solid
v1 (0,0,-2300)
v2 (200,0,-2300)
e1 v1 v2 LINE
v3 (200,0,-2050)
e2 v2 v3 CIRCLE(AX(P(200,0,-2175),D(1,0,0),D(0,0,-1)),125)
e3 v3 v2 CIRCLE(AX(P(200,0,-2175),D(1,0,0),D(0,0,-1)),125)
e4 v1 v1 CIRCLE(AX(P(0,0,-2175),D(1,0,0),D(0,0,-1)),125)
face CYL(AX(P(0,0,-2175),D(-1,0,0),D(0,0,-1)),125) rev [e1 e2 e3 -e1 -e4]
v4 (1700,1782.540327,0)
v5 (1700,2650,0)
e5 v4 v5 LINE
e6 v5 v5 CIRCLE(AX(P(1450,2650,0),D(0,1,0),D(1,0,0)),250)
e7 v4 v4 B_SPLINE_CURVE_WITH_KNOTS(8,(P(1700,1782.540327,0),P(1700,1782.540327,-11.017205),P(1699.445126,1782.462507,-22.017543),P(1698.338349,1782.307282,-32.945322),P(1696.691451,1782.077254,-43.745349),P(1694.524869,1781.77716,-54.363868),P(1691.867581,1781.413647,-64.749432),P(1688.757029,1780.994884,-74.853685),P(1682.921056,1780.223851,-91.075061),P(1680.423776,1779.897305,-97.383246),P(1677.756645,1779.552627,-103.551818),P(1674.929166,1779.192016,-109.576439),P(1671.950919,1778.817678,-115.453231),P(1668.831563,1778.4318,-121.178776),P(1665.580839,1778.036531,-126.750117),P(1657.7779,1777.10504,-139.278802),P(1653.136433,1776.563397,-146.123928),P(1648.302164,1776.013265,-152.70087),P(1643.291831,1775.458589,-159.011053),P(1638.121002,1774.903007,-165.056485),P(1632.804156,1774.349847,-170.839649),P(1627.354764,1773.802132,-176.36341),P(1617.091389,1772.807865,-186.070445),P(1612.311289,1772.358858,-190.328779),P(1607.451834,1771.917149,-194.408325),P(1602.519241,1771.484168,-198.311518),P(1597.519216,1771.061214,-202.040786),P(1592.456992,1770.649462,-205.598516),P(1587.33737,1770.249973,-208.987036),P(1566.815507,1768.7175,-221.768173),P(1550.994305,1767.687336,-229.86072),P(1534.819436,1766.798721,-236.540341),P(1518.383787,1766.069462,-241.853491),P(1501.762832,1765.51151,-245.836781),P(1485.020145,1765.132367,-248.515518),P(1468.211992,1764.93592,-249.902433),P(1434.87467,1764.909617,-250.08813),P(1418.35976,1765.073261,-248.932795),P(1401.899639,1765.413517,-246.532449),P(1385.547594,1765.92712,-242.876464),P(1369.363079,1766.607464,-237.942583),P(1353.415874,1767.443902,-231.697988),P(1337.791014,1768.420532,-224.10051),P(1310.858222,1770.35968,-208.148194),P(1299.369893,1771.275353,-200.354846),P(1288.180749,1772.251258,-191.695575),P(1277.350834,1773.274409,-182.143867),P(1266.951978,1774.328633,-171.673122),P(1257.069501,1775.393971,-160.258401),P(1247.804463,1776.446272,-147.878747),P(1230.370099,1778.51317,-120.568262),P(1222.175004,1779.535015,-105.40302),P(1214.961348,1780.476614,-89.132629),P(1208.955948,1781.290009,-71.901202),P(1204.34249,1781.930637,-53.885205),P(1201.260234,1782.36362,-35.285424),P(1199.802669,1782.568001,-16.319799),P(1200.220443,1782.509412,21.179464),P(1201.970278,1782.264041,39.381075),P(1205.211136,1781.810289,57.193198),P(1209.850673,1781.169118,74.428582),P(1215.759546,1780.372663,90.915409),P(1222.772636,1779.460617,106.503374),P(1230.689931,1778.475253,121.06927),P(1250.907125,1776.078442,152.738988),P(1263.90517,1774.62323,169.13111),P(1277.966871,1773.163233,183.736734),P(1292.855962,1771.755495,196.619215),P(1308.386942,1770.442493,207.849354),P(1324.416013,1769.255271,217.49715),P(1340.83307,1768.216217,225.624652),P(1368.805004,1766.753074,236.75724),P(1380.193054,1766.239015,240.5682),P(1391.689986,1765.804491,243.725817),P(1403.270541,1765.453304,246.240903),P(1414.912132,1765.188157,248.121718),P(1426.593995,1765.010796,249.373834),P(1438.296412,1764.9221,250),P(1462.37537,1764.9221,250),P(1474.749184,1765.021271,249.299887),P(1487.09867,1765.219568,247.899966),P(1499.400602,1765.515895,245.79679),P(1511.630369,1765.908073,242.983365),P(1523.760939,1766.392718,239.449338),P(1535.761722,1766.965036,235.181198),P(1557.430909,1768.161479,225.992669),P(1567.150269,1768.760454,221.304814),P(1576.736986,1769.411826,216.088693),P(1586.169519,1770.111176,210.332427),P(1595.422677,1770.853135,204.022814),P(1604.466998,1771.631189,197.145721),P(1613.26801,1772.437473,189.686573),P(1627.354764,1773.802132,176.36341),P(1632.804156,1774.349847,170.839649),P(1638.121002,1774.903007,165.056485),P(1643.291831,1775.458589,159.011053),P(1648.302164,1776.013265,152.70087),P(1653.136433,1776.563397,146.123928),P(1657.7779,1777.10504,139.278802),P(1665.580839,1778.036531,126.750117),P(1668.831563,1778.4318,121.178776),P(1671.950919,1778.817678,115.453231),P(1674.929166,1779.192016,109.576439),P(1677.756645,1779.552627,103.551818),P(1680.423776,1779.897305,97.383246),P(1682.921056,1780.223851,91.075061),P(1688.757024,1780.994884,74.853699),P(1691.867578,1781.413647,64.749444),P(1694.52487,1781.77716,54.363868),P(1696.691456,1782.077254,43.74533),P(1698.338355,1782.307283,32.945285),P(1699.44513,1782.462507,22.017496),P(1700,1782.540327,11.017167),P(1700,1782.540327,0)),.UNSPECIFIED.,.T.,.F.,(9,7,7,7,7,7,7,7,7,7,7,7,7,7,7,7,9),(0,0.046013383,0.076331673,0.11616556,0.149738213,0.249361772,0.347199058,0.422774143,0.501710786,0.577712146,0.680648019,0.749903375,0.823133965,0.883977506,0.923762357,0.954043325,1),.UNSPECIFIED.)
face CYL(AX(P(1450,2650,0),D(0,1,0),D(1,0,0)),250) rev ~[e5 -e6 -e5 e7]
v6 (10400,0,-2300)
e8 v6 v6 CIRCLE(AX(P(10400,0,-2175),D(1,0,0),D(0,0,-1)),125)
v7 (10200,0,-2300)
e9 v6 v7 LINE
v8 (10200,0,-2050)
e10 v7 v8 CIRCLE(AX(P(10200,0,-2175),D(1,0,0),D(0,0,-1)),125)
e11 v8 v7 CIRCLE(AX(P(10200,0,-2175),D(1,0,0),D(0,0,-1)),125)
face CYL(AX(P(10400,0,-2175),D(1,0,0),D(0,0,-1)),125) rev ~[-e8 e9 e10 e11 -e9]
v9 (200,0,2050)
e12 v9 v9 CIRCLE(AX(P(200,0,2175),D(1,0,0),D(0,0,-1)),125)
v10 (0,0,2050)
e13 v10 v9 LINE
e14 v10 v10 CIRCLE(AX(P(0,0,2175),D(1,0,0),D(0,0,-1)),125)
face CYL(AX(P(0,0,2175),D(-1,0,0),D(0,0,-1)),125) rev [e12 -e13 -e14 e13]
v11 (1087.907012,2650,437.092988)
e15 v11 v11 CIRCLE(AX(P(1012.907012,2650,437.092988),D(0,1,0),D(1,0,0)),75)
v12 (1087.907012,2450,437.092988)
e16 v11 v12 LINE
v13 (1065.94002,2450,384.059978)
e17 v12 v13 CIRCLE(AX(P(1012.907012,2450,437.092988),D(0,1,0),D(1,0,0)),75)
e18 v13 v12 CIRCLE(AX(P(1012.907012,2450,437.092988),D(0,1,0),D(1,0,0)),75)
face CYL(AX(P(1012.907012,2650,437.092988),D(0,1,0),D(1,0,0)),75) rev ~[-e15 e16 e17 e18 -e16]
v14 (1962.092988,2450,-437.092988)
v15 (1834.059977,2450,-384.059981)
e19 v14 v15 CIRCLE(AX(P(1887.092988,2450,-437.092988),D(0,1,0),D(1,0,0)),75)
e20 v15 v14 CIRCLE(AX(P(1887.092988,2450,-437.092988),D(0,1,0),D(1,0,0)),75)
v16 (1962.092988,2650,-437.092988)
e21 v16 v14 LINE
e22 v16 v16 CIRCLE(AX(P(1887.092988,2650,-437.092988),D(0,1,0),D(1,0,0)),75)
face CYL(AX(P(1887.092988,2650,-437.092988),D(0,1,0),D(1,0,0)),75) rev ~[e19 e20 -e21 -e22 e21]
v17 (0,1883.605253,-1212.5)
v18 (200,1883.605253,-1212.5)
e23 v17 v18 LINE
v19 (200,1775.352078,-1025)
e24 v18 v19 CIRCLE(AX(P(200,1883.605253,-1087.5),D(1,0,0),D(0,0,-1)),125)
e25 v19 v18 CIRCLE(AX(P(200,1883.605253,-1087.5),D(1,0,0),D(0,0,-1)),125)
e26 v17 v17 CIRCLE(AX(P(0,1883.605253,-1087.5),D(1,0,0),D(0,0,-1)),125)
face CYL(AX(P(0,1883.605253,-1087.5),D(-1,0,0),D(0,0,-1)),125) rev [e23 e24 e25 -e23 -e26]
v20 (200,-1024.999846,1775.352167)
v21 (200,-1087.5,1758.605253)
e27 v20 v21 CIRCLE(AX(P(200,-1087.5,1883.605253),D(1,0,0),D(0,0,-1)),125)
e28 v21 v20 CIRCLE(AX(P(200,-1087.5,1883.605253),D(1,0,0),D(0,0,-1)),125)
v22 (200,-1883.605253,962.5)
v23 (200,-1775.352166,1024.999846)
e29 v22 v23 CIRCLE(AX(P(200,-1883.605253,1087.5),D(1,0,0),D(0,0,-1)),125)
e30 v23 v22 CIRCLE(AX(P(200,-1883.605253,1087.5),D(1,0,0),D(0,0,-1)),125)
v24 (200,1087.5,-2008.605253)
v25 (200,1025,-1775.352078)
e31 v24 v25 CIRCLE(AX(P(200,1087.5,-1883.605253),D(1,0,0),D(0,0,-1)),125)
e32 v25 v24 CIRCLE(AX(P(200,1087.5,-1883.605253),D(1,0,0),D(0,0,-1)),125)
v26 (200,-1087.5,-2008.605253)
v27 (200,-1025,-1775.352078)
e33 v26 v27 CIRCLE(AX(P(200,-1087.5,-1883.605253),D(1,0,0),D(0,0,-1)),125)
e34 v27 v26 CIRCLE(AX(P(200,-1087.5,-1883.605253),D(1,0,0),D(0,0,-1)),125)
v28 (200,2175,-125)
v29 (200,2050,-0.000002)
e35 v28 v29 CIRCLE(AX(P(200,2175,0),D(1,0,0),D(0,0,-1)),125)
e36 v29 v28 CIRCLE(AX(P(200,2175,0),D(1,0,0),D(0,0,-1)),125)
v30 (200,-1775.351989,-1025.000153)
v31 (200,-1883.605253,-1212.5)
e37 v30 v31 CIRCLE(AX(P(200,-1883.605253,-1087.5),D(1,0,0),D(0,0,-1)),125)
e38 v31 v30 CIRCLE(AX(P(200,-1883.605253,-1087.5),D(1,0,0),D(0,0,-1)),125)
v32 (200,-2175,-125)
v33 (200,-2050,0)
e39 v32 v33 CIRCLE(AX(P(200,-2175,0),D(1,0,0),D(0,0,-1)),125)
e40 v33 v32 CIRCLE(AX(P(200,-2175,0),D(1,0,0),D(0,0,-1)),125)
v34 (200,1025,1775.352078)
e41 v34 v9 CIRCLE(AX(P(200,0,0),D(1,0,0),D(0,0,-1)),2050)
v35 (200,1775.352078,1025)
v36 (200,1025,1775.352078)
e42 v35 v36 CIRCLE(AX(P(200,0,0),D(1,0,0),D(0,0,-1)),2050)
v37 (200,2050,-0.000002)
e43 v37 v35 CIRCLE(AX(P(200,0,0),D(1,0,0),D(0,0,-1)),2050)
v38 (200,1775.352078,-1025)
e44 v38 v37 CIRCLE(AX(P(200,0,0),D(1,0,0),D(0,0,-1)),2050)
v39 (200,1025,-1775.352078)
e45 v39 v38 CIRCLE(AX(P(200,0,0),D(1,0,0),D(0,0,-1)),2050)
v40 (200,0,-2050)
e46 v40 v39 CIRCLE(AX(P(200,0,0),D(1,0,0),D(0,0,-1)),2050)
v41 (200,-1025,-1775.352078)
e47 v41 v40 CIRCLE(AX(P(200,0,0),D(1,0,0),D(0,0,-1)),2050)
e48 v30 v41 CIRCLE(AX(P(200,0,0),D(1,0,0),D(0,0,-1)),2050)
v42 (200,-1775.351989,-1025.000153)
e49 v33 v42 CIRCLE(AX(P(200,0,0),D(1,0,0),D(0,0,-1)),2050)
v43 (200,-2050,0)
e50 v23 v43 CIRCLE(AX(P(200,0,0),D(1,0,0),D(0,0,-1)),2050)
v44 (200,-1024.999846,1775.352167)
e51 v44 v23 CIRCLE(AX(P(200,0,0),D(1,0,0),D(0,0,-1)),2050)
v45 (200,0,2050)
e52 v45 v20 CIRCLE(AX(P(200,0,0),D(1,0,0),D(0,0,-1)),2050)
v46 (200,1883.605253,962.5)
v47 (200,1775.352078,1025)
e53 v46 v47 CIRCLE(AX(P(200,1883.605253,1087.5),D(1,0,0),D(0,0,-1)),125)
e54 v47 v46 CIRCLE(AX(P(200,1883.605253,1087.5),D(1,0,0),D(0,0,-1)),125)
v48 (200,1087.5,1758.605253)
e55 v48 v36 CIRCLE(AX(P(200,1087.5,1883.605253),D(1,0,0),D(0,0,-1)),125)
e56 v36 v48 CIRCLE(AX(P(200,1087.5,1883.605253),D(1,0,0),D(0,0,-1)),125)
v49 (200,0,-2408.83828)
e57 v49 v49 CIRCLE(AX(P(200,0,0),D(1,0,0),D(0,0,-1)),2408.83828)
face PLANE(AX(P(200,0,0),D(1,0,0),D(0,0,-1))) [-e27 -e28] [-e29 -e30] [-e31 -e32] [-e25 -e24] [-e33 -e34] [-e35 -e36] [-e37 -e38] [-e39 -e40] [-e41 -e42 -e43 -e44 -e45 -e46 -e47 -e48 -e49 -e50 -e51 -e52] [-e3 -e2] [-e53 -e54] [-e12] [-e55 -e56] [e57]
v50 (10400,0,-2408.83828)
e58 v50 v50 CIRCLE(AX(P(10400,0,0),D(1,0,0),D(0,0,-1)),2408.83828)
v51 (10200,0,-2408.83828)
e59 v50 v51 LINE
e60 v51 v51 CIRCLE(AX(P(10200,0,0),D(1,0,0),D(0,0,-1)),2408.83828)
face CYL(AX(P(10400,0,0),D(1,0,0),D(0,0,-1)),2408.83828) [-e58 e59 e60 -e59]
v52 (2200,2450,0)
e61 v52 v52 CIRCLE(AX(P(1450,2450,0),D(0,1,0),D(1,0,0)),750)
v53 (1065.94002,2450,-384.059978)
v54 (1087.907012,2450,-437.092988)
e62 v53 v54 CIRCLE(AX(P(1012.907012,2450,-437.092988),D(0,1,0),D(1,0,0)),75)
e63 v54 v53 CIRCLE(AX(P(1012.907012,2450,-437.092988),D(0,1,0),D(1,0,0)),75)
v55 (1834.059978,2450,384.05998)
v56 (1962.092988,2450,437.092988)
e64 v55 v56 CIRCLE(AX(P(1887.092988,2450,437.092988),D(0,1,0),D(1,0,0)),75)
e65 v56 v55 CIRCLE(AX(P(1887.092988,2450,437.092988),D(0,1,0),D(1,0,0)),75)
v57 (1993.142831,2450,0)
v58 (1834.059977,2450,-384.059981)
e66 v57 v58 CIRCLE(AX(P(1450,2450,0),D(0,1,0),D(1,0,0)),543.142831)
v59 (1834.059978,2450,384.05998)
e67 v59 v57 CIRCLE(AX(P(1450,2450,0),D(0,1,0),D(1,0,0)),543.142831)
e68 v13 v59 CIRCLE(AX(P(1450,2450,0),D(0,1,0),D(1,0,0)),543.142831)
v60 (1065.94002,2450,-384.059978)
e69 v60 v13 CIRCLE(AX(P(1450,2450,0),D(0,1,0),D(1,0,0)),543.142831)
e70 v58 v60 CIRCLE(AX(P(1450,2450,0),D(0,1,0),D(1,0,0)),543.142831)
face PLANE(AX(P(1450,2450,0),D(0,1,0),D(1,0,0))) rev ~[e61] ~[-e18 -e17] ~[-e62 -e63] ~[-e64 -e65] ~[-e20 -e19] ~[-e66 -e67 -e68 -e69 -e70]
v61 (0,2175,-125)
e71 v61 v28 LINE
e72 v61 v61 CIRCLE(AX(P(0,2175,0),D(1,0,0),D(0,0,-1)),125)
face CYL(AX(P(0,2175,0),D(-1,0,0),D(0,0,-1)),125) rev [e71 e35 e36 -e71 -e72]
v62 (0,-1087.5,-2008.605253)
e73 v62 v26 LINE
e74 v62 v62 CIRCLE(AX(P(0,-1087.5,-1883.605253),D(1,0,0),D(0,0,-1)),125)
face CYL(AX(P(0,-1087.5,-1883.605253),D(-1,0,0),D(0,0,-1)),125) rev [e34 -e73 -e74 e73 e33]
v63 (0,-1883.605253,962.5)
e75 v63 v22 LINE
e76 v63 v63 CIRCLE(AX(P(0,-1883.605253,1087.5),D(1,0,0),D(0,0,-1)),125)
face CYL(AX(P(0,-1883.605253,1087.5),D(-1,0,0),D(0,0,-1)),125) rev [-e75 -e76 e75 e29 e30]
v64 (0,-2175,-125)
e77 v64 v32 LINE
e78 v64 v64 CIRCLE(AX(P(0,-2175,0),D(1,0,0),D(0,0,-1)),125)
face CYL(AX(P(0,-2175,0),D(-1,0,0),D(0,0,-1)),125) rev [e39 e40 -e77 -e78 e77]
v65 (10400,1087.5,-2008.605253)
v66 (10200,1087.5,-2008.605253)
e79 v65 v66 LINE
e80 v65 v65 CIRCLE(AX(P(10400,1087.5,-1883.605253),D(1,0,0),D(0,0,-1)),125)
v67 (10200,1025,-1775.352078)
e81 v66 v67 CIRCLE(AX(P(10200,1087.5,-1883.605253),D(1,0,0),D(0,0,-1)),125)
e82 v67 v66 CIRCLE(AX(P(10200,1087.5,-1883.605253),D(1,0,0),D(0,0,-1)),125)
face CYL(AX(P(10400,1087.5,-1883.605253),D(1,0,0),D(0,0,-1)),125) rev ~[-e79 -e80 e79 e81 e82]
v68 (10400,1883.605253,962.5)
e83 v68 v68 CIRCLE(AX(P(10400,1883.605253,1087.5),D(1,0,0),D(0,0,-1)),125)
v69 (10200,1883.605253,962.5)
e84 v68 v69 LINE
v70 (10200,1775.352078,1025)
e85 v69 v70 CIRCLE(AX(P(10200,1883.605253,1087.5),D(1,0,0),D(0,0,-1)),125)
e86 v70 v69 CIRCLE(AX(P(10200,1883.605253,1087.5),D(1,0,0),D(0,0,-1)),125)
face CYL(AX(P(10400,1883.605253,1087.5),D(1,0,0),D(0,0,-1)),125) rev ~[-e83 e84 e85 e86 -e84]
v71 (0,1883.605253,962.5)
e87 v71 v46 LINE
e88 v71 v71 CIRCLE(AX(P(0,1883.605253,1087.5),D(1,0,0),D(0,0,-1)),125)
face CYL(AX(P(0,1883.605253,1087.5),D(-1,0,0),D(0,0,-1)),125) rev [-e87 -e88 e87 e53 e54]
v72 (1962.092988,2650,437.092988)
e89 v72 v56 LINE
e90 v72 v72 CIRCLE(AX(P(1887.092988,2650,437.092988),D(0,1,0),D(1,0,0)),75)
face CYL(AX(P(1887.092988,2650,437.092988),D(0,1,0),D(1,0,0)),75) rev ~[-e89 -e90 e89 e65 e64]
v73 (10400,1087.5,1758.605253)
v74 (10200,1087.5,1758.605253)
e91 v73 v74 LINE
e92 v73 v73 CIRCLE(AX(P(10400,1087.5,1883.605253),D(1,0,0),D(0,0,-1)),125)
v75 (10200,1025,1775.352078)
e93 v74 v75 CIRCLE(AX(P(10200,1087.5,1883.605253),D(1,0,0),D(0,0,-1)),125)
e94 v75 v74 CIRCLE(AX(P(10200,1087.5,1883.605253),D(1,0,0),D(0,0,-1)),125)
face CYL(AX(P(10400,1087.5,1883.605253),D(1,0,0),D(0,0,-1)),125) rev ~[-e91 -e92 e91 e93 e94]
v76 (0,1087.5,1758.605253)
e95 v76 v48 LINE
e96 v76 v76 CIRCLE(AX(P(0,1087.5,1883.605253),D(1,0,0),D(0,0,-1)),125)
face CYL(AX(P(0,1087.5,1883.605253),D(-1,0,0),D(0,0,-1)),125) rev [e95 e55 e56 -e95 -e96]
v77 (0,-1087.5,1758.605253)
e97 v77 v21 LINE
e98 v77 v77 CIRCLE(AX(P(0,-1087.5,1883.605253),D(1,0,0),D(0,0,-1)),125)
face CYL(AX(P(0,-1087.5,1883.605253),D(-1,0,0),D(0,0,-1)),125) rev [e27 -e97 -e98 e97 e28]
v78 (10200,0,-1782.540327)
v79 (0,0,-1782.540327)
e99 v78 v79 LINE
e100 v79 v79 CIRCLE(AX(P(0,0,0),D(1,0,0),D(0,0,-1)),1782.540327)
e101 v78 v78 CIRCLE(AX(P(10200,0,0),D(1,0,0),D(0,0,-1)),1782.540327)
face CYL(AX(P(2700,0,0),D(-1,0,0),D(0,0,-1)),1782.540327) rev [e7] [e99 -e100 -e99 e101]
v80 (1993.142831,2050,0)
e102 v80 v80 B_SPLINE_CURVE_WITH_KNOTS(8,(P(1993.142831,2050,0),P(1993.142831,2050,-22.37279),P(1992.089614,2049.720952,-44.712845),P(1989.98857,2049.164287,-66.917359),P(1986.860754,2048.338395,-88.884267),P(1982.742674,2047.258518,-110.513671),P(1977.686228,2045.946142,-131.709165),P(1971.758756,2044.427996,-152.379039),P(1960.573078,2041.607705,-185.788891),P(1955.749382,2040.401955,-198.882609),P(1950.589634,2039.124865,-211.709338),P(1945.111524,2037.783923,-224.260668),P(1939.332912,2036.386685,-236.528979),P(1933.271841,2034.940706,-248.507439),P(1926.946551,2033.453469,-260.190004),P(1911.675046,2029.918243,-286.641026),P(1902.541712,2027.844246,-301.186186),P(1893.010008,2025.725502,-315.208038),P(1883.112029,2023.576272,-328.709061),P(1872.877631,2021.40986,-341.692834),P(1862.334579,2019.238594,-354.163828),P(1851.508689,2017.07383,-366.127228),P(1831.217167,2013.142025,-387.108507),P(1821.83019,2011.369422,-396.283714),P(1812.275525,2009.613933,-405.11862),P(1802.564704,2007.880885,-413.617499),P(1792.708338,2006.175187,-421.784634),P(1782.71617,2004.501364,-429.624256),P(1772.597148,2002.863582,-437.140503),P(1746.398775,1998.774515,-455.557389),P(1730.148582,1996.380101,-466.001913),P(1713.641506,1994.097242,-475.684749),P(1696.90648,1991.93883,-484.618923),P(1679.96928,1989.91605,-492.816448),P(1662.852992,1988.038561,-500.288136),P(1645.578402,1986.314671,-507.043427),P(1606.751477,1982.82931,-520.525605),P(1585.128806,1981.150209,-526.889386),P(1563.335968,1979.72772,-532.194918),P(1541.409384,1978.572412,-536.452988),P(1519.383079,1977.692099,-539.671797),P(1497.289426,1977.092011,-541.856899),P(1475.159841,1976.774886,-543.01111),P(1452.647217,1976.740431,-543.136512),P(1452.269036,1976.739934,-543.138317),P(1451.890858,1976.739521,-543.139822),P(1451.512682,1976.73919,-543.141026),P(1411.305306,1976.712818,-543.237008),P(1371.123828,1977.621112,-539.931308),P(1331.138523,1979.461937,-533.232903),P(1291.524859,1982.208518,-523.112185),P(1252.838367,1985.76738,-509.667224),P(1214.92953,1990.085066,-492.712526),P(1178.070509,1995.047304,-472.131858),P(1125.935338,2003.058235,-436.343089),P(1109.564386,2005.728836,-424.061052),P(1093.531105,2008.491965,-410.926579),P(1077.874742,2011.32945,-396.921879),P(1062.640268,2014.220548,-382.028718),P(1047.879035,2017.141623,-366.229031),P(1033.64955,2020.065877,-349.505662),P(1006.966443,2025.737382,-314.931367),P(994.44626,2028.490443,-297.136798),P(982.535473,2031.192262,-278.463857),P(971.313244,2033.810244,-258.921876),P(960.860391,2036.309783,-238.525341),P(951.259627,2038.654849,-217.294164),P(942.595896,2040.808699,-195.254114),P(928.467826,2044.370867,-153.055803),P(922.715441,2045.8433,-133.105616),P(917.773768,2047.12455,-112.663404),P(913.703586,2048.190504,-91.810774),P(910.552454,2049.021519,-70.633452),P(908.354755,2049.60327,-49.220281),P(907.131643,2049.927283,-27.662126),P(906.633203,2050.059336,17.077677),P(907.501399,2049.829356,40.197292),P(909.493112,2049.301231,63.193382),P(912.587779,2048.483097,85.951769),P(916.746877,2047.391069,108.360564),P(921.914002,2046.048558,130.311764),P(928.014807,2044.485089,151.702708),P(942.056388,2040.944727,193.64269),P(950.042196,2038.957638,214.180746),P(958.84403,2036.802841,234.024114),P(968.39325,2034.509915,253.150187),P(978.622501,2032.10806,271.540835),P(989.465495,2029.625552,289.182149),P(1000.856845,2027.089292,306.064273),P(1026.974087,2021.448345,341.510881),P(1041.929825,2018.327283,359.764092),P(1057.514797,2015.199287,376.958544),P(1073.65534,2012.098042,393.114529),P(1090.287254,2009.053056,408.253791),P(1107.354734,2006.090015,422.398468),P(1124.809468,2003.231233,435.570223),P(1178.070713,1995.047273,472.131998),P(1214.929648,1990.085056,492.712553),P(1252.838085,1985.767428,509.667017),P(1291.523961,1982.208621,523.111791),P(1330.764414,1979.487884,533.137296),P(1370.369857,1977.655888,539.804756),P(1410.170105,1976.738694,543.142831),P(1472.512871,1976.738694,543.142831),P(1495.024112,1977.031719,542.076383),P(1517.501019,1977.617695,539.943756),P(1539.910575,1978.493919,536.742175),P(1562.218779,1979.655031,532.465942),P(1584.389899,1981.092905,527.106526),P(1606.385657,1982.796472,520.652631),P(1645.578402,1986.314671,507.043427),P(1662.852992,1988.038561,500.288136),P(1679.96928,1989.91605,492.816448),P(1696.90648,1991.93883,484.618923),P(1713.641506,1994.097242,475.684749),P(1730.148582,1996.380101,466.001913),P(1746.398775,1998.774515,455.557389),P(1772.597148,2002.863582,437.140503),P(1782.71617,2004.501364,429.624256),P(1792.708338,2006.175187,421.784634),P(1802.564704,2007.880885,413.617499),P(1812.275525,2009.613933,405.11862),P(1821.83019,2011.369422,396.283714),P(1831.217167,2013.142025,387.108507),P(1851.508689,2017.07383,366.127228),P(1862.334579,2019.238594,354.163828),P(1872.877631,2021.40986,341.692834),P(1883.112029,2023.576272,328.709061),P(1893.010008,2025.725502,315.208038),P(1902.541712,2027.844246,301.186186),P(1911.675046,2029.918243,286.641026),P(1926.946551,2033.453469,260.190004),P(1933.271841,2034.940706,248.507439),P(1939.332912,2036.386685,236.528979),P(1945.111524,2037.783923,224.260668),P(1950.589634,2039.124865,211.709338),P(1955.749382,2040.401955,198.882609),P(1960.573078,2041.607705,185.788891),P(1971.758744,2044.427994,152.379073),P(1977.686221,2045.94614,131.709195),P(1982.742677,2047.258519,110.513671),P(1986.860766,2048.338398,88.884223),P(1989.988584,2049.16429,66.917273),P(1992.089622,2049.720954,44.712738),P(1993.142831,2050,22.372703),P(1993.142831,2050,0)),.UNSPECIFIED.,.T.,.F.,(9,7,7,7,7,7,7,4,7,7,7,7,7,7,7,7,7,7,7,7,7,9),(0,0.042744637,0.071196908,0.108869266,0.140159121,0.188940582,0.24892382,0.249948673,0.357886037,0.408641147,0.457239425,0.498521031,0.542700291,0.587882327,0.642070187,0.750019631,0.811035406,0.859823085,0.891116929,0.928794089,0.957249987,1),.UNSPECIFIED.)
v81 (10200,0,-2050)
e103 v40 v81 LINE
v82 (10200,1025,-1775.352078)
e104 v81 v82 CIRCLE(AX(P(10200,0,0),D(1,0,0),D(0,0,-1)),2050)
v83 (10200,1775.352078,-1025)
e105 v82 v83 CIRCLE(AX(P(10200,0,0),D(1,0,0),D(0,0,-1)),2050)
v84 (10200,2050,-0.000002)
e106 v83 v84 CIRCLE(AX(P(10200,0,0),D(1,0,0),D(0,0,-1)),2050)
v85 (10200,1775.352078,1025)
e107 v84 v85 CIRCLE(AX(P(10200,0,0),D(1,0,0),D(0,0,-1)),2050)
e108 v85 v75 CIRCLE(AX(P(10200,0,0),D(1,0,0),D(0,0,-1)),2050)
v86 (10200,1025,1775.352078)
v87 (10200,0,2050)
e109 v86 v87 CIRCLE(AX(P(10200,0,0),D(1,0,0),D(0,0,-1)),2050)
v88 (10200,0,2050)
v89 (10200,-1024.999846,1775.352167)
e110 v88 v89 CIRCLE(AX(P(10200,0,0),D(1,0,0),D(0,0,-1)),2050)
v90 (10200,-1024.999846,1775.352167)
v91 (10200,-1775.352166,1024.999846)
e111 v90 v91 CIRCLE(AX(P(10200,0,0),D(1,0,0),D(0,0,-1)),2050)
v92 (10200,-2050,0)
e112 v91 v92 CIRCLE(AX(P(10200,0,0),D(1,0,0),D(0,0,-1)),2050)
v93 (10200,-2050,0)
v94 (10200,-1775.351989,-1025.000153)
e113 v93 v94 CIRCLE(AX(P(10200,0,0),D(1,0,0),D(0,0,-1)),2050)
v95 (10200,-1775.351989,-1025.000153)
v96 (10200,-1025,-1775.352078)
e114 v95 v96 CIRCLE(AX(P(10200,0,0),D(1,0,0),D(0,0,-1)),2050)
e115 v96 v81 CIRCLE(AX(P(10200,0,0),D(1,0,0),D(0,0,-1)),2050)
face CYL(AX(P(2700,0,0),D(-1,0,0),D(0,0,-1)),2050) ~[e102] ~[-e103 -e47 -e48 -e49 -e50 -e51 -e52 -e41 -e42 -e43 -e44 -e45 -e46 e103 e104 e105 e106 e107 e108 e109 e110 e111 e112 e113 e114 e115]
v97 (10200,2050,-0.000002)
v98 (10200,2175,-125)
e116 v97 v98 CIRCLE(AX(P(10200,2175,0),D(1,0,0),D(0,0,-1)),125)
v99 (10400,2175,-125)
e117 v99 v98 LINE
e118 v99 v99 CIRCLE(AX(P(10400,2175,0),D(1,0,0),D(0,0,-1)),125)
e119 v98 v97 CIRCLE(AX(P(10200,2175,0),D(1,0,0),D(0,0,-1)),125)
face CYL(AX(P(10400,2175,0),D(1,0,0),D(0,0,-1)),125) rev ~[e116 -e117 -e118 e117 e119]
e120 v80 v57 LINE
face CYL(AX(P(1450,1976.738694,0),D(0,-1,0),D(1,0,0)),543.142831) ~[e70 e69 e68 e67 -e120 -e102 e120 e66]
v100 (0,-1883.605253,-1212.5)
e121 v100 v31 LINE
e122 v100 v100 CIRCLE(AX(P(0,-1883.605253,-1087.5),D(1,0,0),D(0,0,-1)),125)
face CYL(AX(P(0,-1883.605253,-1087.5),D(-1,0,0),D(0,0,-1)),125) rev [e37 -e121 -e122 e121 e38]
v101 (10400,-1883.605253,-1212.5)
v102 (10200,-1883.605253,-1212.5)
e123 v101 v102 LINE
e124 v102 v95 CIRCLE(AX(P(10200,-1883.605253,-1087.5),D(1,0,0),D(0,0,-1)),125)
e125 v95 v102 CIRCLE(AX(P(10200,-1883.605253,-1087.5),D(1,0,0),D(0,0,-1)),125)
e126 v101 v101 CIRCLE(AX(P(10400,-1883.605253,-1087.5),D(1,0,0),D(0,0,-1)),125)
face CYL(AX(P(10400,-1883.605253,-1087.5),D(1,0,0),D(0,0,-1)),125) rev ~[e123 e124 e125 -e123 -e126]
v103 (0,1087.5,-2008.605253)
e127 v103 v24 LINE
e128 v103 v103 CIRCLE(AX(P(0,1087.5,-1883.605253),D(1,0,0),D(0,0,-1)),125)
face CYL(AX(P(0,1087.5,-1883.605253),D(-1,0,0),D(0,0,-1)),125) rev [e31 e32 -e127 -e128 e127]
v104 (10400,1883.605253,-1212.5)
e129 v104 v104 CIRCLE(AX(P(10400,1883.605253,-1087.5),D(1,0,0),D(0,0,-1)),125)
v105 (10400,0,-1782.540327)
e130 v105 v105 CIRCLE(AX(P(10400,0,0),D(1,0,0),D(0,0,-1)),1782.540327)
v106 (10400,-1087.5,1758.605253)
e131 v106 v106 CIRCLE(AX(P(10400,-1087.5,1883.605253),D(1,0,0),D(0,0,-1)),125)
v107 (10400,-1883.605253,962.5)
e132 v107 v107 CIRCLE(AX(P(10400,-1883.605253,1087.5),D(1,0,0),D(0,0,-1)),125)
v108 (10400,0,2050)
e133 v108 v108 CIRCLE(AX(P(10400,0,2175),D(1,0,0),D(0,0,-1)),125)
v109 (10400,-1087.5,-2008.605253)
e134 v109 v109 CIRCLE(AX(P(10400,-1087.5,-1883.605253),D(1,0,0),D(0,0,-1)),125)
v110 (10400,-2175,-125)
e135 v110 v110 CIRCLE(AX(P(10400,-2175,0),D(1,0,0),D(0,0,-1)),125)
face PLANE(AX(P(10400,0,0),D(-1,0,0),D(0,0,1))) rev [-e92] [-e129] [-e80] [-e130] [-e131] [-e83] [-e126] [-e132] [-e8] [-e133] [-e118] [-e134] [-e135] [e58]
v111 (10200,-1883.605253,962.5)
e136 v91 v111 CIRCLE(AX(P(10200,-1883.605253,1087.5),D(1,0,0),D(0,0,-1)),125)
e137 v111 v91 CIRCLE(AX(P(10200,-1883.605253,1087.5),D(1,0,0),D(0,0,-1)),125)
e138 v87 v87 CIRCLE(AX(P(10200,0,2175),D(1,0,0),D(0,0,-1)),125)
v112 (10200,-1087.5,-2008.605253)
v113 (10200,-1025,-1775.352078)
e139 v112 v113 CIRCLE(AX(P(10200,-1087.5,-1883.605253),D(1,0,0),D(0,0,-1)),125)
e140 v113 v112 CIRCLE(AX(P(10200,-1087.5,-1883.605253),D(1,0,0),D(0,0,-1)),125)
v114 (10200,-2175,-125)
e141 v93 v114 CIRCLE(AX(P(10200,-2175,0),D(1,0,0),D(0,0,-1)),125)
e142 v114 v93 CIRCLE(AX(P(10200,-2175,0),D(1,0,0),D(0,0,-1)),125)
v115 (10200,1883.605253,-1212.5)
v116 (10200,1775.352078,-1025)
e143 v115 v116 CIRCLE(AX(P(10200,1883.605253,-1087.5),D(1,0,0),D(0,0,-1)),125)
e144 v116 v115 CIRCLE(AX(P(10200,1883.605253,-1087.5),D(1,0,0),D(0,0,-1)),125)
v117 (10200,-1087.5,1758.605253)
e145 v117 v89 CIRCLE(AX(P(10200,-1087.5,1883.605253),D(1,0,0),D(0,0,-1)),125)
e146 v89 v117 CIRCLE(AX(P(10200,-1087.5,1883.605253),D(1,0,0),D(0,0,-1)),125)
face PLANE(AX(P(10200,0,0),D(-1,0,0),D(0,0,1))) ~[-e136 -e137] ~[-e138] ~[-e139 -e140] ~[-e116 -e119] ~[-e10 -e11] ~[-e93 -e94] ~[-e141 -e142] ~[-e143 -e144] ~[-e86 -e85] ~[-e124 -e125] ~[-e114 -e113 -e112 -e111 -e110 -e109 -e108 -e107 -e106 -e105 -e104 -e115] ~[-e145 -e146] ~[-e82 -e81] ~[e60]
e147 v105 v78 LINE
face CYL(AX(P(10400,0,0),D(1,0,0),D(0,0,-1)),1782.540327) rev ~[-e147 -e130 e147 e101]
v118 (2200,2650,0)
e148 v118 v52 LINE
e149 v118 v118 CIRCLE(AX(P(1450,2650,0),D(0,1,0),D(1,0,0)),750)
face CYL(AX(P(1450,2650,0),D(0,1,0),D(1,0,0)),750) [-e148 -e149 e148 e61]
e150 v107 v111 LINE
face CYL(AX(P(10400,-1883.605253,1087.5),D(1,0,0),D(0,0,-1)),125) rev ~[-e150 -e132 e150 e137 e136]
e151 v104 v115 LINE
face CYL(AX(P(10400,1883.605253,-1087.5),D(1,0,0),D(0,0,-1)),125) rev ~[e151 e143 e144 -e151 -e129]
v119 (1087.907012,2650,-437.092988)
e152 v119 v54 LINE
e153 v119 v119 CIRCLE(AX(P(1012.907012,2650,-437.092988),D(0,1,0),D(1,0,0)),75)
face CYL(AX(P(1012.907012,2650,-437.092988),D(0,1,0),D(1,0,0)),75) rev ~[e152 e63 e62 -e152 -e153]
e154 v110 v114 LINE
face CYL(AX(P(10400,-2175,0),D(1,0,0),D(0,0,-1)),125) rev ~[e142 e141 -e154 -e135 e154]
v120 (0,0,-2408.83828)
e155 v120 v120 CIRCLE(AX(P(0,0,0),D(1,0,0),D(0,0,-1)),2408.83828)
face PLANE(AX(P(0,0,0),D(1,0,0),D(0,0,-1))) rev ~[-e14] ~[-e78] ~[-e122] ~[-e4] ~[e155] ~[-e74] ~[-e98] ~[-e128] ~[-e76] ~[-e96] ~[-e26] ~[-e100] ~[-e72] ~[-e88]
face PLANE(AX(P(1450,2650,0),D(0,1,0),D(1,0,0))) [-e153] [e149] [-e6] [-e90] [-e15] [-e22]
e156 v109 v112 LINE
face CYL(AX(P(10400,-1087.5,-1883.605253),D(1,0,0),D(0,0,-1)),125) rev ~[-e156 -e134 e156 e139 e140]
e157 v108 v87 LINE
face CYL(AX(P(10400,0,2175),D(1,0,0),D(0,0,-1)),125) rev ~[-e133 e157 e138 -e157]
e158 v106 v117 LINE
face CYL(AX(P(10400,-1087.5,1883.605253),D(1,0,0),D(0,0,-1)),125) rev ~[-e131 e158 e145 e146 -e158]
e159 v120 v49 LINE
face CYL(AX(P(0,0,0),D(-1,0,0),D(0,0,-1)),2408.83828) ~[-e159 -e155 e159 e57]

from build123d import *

# Parameters (mm, degrees)
SKETCH1_R            = 2408.838280344
SKETCH1_R_2          = 1782.540327454
SKETCH1_R_3          = 125
BOSS_EXTRUDE1_DEPTH  = 200
SKETCH2_R            = 2050
SKETCH2_R_2          = 1782.540327454
BOSS_EXTRUDE3_DEPTH  = 2500
SKETCH4_R            = 750
SKETCH4_R_2          = 75
BOSS_EXTRUDE15_DEPTH = 200
BOSS_EXTRUDE17_START = -673.261306
SKETCH11_R           = 543.142831057
SKETCH11_R_2         = 250
BOSS_EXTRUDE17_DEPTH = 473.261306
SKETCH12_R           = 250
CUT_EXTRUDE4_DEPTH   = 1310
SKETCH14_R           = 2050
SKETCH14_R_2         = 1782.540327454
BOSS_EXTRUDE18_DEPTH = 7500


with BuildPart() as part:
    # Sketch1 → Boss-Extrude1 (new body)
    with BuildSketch(Plane(origin=(0, 0, 0), x_dir=(0, 0, -1), z_dir=(1, 0, 0))):
        Circle(SKETCH1_R)
        Circle(SKETCH1_R_2, mode=Mode.SUBTRACT)
        with Locations((0, 2175)):
            Circle(SKETCH1_R_3, mode=Mode.SUBTRACT)
        with Locations((1087.5, 1883.605253231)):
            Circle(SKETCH1_R_3, mode=Mode.SUBTRACT)
        with Locations((1883.605253231, 1087.5)):
            Circle(SKETCH1_R_3, mode=Mode.SUBTRACT)
        with Locations((2175, 0)):
            Circle(SKETCH1_R_3, mode=Mode.SUBTRACT)
        with Locations((1883.605253231, -1087.5)):
            Circle(SKETCH1_R_3, mode=Mode.SUBTRACT)
        with Locations((1087.5, -1883.605253231)):
            Circle(SKETCH1_R_3, mode=Mode.SUBTRACT)
        with Locations((0, -2175)):
            Circle(SKETCH1_R_3, mode=Mode.SUBTRACT)
        with Locations((-1087.5, -1883.605253231)):
            Circle(SKETCH1_R_3, mode=Mode.SUBTRACT)
        with Locations((-1883.605253231, -1087.5)):
            Circle(SKETCH1_R_3, mode=Mode.SUBTRACT)
        with Locations((-2175, 0)):
            Circle(SKETCH1_R_3, mode=Mode.SUBTRACT)
        with Locations((-1883.605253231, 1087.5)):
            Circle(SKETCH1_R_3, mode=Mode.SUBTRACT)
        with Locations((-1087.5, 1883.605253231)):
            Circle(SKETCH1_R_3, mode=Mode.SUBTRACT)
    boss_extrude1 = extrude(amount=BOSS_EXTRUDE1_DEPTH)

    # Sketch2 → Boss-Extrude3 (add)
    with BuildSketch(Plane(origin=(200, 0, 0), x_dir=(0, 0, -1), z_dir=(1, 0, 0))):
        Circle(SKETCH2_R)
        Circle(SKETCH2_R_2, mode=Mode.SUBTRACT)
    extrude(amount=BOSS_EXTRUDE3_DEPTH)



with BuildPart() as body_2:
    # Sketch4 → Boss-Extrude15 (new body)
    with BuildSketch(Plane(origin=(0, 2650, 0), x_dir=(1, 0, 0), z_dir=(0, 1, 0))):
        with Locations((1450, 0)):
            Circle(SKETCH4_R)
        with Locations((1887.092987583, 437.092987583)):
            Circle(SKETCH4_R_2, mode=Mode.SUBTRACT)
        with Locations((1887.092987583, -437.092987583)):
            Circle(SKETCH4_R_2, mode=Mode.SUBTRACT)
        with Locations((1012.907012417, -437.092987583)):
            Circle(SKETCH4_R_2, mode=Mode.SUBTRACT)
        with Locations((1012.907012417, 437.092987583)):
            Circle(SKETCH4_R_2, mode=Mode.SUBTRACT)
    extrude(amount=-BOSS_EXTRUDE15_DEPTH)


with BuildPart() as part_1:
    add(part.part)

    add(body_2.part)  # Boss-Extrude17 merges body 2
    # Sketch11 → Boss-Extrude17 (add)
    with BuildSketch(Plane(origin=(0, 2650, 0), x_dir=(1, 0, 0), z_dir=(0, 1, 0)).offset(BOSS_EXTRUDE17_START)):
        with Locations((1450, 0)):
            Circle(SKETCH11_R)
        with Locations((1450, 0)):
            Circle(SKETCH11_R_2, mode=Mode.SUBTRACT)
    extrude(amount=BOSS_EXTRUDE17_DEPTH)

    # Sketch12 → Cut-Extrude4 (cut)
    with BuildSketch(Plane(origin=(0, 2650, 0), x_dir=(1, 0, 0), z_dir=(0, 1, 0))):
        with Locations((1450, 0)):
            Circle(SKETCH12_R)
    extrude(amount=-CUT_EXTRUDE4_DEPTH, mode=Mode.SUBTRACT)

    # Sketch14 → Boss-Extrude18 (add)
    with BuildSketch(Plane(origin=(2700, 0, 0), x_dir=(0, 0, -1), z_dir=(1, 0, 0))):
        Circle(SKETCH14_R)
        Circle(SKETCH14_R_2, mode=Mode.SUBTRACT)
    extrude(amount=BOSS_EXTRUDE18_DEPTH)

    # Mirror5: Boss-Extrude1 across plane
    add(boss_extrude1.mirror(Plane(origin=(5200, 0, 0), x_dir=(0, 0, 1), z_dir=(1, 0, 0))))


solid = part_1.part
